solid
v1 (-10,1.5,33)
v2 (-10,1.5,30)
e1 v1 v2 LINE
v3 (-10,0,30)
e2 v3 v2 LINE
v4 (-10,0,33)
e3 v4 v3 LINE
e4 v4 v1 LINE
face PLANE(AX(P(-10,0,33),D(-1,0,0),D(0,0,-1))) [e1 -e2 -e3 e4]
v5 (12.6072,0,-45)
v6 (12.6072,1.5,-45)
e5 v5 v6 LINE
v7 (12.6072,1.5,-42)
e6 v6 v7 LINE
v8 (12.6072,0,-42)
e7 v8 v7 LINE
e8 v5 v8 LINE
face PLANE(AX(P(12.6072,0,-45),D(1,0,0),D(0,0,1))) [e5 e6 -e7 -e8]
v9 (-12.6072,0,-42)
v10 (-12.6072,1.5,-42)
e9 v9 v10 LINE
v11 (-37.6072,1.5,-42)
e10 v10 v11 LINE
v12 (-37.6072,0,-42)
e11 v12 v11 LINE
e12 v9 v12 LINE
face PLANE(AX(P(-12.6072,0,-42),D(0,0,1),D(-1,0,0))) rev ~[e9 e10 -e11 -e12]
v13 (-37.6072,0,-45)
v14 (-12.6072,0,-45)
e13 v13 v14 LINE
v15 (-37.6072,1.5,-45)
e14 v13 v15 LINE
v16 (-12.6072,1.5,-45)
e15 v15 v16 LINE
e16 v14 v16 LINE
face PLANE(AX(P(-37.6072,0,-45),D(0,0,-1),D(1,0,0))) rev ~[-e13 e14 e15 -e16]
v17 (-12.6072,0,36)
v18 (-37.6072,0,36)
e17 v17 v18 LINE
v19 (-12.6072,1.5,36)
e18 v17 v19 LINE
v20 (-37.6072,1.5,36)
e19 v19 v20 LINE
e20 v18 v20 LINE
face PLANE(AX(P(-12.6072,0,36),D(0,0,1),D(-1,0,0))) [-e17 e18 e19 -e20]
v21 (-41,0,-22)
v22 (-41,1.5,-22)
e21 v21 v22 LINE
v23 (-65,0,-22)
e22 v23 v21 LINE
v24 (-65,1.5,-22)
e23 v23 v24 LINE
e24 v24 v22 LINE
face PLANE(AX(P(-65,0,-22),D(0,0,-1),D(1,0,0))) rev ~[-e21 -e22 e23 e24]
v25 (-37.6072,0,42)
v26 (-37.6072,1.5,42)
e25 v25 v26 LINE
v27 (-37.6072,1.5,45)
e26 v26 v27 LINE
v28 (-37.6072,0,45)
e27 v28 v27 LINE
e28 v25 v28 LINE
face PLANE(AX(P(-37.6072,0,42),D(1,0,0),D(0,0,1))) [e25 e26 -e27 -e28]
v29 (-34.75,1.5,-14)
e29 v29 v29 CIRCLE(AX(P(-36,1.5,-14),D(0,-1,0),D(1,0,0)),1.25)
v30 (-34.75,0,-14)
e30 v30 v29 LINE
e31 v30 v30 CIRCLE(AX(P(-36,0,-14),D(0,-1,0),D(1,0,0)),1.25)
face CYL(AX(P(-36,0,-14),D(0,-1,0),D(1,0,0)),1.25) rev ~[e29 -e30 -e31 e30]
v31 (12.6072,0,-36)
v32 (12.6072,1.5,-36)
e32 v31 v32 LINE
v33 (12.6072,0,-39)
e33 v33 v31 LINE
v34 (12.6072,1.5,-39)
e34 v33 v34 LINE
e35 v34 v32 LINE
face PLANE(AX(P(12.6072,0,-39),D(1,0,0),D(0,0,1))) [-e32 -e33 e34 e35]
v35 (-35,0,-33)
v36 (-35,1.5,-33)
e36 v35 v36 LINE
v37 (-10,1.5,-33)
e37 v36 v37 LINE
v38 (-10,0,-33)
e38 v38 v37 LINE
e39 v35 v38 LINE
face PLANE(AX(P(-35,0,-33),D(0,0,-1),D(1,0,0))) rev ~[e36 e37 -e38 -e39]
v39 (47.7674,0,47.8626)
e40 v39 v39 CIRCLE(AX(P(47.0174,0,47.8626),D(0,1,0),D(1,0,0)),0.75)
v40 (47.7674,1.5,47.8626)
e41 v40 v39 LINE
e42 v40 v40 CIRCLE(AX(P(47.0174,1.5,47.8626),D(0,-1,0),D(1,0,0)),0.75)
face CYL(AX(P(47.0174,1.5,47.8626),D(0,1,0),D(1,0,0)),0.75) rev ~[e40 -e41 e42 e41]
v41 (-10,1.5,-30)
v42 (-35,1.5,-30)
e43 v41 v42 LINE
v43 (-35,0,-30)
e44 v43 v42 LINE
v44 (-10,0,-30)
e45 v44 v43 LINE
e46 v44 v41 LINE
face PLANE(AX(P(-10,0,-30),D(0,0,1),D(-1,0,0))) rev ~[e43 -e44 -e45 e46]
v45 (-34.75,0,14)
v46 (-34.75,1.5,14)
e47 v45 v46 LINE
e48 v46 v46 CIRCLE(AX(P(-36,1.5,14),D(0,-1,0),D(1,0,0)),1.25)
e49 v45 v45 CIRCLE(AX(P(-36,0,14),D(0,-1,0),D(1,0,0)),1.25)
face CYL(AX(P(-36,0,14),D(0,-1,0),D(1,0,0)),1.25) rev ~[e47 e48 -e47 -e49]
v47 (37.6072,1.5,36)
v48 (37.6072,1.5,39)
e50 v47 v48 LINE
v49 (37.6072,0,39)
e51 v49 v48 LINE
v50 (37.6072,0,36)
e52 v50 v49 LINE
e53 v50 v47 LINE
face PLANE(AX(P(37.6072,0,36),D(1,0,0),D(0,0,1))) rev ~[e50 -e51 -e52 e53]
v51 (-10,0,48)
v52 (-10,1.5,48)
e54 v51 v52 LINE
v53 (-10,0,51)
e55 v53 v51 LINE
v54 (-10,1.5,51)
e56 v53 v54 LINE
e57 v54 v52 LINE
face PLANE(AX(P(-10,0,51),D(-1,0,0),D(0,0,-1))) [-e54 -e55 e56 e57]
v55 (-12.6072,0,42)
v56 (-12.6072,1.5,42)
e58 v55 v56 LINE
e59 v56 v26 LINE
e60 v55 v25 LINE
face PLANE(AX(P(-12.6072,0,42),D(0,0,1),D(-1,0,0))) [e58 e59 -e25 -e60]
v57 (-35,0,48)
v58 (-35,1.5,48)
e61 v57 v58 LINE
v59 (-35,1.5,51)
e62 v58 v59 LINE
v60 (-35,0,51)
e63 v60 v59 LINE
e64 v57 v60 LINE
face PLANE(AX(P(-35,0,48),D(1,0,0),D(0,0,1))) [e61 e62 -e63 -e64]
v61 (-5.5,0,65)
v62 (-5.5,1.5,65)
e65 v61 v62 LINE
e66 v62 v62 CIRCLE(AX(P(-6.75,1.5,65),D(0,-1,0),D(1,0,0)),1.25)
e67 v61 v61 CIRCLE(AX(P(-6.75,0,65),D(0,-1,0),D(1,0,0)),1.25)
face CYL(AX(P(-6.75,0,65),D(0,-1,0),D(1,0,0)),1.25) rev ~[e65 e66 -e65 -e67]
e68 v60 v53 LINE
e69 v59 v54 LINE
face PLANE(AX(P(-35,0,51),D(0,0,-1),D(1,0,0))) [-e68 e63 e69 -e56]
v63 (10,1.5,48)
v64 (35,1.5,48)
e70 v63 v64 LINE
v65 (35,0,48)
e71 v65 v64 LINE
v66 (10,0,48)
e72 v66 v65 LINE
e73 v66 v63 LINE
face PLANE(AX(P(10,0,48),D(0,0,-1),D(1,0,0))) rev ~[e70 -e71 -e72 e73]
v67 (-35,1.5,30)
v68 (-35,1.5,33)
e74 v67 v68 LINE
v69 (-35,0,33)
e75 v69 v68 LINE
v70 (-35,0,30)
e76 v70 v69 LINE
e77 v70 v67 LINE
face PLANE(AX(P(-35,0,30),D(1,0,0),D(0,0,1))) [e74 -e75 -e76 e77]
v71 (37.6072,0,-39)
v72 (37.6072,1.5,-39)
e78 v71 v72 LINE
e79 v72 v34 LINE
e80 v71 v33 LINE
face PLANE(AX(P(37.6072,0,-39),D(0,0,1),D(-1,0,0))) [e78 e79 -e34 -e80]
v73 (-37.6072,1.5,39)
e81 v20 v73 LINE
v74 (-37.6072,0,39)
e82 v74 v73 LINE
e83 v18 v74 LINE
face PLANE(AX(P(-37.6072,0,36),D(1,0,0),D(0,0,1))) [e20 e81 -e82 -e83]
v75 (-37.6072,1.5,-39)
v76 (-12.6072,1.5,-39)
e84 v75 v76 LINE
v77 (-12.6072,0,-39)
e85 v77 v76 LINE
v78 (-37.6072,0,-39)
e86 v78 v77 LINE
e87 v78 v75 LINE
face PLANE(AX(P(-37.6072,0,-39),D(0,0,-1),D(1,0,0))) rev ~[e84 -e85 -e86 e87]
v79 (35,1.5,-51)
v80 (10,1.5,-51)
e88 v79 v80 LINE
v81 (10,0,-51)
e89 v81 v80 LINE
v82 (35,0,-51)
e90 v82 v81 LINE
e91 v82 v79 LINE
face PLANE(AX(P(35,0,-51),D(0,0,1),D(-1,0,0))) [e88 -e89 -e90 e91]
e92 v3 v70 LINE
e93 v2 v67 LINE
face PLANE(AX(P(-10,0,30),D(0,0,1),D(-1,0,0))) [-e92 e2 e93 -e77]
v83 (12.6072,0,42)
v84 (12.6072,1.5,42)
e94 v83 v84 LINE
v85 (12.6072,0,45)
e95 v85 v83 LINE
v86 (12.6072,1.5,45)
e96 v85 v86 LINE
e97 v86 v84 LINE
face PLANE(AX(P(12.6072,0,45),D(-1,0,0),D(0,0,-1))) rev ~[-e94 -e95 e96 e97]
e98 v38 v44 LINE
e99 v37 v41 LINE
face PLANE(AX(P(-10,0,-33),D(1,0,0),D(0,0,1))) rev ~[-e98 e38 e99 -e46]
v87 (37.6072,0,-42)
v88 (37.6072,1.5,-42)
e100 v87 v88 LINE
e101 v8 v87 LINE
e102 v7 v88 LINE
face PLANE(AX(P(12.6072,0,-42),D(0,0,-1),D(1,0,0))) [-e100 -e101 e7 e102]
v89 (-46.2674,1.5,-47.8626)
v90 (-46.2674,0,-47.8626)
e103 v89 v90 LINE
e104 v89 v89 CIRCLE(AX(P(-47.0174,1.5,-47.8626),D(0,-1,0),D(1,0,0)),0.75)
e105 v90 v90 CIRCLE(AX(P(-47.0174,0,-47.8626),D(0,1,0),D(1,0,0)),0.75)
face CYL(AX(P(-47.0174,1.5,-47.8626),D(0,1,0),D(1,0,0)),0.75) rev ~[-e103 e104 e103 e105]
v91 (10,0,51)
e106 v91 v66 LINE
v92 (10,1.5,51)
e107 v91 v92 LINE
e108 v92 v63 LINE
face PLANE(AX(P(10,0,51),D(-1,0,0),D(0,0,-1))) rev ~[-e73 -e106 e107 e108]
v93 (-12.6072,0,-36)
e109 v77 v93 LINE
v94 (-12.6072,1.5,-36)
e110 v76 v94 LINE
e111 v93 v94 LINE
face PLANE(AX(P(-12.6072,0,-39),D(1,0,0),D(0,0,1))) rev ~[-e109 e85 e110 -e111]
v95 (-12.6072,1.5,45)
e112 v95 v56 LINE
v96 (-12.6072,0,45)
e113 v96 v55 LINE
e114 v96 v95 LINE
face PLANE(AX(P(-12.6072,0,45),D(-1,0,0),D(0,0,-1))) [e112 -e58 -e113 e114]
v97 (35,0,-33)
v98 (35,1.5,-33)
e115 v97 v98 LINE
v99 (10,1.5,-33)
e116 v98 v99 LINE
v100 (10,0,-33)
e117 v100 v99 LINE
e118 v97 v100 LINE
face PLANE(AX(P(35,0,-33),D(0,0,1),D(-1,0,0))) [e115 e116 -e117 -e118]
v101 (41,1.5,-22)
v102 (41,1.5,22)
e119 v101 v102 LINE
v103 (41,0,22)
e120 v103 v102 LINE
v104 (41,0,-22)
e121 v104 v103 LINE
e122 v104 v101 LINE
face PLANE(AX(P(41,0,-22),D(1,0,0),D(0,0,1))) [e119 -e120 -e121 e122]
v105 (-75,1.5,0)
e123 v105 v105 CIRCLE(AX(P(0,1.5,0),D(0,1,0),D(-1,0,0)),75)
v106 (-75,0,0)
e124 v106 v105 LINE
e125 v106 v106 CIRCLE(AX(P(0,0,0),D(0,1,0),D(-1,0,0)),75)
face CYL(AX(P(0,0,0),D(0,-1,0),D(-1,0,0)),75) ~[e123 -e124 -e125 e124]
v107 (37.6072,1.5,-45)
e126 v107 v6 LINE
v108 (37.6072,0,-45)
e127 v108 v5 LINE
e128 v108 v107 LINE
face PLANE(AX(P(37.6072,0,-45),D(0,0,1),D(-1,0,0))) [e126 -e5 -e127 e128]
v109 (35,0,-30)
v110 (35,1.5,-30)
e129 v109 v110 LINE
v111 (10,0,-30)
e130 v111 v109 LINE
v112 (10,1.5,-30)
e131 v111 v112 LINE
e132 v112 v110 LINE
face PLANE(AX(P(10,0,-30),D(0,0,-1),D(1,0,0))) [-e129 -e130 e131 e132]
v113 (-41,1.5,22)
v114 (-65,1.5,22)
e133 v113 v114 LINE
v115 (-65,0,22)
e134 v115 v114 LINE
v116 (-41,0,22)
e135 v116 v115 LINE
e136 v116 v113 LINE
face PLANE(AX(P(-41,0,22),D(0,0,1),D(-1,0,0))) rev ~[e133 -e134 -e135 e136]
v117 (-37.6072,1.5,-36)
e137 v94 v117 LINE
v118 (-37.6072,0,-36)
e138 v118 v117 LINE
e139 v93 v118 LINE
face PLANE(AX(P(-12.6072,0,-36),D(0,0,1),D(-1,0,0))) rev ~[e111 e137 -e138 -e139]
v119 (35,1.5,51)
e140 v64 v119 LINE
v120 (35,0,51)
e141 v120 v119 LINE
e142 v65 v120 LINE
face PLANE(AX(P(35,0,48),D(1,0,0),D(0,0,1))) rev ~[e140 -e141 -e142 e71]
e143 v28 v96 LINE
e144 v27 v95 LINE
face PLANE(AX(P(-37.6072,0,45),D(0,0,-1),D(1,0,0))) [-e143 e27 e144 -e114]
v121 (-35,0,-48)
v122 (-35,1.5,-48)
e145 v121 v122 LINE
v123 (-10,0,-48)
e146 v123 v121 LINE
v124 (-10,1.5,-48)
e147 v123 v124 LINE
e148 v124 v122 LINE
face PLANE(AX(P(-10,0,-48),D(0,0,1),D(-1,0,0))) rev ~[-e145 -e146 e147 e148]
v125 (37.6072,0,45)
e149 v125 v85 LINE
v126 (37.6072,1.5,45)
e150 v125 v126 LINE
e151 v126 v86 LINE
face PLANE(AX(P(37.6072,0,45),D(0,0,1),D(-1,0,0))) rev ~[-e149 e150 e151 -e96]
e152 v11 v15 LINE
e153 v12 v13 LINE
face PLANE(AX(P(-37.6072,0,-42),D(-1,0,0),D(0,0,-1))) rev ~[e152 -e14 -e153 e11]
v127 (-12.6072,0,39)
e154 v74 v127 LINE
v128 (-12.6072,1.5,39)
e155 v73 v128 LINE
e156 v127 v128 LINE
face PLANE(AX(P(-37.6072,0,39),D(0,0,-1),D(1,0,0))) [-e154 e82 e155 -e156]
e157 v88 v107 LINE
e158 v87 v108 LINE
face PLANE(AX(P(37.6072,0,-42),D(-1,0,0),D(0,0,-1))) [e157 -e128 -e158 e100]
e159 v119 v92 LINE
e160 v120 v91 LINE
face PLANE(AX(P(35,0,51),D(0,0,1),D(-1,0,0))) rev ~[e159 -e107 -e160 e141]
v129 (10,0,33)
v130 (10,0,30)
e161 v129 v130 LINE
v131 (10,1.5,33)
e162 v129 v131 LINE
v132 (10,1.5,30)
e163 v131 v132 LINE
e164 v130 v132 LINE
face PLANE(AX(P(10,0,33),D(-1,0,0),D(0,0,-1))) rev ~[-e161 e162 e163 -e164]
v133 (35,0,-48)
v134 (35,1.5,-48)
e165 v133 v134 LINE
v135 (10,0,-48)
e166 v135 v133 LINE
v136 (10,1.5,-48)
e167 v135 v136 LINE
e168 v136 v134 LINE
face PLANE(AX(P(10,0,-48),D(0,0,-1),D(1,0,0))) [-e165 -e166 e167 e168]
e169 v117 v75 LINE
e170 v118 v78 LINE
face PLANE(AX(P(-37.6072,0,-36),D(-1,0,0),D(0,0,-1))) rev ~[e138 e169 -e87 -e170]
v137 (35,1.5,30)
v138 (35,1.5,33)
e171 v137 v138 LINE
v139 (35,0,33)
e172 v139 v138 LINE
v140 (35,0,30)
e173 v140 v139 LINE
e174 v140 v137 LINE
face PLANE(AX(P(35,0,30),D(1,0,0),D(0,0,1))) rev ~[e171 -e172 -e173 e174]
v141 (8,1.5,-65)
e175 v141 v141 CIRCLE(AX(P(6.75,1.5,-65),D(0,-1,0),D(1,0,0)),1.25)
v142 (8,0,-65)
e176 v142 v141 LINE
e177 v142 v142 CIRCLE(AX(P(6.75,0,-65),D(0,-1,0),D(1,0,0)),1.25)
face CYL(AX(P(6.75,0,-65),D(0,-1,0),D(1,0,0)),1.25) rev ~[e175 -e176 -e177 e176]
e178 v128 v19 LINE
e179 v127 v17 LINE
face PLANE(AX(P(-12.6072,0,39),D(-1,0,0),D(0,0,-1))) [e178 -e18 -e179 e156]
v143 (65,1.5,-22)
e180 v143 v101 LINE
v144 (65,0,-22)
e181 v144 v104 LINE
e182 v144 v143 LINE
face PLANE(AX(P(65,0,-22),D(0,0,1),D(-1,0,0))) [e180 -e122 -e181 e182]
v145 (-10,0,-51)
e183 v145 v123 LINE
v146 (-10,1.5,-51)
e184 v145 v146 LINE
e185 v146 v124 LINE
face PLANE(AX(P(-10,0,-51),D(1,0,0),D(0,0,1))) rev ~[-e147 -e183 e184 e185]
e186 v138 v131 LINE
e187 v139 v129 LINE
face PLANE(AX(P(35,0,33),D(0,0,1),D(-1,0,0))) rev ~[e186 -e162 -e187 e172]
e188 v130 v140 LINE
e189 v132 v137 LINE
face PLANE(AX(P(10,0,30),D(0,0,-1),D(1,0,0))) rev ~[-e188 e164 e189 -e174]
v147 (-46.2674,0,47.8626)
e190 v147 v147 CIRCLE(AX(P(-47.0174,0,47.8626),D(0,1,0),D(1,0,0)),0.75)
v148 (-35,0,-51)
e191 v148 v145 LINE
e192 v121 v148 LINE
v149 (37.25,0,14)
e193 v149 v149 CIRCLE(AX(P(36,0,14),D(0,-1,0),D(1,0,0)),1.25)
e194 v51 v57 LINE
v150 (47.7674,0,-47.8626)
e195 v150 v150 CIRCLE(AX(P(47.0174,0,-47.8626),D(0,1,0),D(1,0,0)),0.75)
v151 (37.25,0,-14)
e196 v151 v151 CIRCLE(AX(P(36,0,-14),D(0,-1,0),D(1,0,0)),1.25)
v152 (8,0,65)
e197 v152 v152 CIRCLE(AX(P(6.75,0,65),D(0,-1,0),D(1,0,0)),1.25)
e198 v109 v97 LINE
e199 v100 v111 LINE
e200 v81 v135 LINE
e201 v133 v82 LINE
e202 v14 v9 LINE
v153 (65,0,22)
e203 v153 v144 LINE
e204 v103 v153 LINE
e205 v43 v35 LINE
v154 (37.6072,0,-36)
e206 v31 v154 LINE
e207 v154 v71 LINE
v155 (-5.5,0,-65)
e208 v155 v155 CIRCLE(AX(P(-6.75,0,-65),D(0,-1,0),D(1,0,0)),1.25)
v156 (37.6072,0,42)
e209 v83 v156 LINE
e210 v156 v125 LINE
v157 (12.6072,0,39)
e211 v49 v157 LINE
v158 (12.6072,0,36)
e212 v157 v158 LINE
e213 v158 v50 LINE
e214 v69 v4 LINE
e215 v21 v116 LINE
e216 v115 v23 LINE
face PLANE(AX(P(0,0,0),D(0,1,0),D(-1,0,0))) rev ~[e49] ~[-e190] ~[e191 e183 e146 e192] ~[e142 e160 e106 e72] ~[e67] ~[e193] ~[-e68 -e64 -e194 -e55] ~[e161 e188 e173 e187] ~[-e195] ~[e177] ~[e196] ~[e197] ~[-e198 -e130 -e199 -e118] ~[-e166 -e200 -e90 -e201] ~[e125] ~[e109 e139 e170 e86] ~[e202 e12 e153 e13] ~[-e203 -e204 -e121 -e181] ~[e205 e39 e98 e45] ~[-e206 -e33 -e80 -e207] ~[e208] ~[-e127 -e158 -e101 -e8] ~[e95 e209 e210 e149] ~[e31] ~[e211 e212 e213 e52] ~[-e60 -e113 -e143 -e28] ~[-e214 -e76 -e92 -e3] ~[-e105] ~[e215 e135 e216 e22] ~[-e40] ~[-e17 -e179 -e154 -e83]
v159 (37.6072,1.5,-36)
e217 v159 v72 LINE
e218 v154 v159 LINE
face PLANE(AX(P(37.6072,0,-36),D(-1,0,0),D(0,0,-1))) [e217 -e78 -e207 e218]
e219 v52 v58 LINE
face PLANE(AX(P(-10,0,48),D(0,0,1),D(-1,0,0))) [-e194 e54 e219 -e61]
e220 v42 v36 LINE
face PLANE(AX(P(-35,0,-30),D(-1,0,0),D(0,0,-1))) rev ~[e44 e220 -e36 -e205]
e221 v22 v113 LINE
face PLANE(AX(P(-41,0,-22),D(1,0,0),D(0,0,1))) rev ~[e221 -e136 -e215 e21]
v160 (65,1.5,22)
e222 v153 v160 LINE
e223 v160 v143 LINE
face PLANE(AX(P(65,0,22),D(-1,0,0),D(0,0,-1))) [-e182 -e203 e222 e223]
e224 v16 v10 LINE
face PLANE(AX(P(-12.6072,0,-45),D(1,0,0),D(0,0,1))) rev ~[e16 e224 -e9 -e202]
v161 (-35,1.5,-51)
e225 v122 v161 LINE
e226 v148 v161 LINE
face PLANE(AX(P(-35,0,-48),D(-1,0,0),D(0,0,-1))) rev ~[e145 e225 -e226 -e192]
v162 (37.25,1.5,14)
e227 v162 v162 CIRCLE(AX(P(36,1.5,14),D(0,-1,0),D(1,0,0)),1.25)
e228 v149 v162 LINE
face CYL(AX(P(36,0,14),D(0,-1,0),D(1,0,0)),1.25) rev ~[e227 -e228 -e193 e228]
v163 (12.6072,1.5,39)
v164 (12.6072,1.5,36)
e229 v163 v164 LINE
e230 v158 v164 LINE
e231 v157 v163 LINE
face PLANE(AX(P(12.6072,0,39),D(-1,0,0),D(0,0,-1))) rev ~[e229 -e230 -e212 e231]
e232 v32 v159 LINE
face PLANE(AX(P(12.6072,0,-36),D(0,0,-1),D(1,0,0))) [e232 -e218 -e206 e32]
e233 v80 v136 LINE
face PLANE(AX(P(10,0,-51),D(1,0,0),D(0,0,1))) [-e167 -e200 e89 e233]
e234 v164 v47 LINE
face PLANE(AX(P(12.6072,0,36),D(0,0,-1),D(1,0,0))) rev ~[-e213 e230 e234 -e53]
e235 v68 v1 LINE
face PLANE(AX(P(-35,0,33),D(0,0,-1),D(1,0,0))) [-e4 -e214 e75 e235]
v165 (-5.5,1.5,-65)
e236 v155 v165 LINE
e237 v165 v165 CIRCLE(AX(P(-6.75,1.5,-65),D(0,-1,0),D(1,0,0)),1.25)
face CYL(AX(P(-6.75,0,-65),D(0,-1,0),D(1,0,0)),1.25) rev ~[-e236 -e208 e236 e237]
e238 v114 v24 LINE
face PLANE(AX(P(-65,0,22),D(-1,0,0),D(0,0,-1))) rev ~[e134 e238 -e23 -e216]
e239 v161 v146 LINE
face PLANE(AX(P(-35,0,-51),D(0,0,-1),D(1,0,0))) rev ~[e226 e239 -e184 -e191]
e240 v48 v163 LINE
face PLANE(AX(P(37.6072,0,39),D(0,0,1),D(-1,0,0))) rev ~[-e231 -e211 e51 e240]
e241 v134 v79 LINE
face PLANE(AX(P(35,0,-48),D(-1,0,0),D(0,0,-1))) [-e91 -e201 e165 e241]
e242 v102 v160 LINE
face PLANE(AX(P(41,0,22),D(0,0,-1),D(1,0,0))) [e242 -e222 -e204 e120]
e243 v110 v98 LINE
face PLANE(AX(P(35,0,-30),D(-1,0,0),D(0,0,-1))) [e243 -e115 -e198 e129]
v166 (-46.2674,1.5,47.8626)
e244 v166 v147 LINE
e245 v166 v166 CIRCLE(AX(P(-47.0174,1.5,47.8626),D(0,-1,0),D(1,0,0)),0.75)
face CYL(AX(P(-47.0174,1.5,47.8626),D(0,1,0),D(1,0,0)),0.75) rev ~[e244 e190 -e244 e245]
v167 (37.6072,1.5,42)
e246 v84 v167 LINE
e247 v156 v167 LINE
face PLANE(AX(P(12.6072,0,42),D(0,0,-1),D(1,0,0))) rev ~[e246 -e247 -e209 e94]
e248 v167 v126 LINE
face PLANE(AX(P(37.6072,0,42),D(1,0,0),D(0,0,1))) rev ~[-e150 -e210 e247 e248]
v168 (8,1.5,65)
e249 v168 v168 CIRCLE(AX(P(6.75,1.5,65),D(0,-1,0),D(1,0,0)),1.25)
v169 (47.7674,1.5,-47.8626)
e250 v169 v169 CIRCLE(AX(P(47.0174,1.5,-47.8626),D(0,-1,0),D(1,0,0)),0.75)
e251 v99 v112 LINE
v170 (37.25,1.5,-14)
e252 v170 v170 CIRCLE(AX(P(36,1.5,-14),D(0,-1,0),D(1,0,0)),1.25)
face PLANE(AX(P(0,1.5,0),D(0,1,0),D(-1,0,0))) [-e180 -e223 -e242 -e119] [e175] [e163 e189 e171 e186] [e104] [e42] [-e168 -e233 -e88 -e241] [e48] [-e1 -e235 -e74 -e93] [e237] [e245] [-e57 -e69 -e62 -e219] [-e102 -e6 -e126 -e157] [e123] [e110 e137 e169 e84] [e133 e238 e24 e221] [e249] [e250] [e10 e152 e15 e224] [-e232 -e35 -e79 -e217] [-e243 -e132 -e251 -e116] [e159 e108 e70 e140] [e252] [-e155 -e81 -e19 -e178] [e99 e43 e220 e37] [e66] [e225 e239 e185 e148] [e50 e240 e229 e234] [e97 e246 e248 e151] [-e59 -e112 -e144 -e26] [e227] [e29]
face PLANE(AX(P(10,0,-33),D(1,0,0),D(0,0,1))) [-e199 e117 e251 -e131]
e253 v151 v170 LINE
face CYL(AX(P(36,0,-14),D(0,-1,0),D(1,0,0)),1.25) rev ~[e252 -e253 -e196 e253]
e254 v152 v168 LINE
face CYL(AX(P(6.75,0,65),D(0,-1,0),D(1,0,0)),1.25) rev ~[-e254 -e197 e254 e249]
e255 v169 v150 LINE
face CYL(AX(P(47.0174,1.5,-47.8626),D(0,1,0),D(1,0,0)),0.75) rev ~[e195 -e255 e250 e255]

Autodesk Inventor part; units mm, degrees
ref_plane "YZ Plane" through (0, 0, 0) normal (1, 0, 0) x (0, 1, 0)
ref_plane "XZ Plane" through (0, 0, 0) normal (0, 1, 0) x (-1, 0, 0)
ref_plane "XY Plane" through (0, 0, 0) normal (0, 0, 1) x (1, 0, 0)
sketch "Boceto1" plane through (0, 0, 0) normal (0, 1, 0) x (-1, 0, 0)
  circle A0 centre (0, 0) radius 75
  line L0 (65, -22) -> (41, -22)
  line L1 (41, -22) -> (41, 22)
  line L2 (41, 22) -> (65, 22)
  line L3 (65, 22) -> (65, -22)
  line L4 (37.6072, -39) -> (12.6072, -39)
  line L5 (12.6072, -39) -> (12.6072, -36)
  line L6 (12.6072, -36) -> (37.6072, -36)
  line L7 (37.6072, -36) -> (37.6072, -39)
  line L8 (37.6072, -45) -> (12.6072, -45)
  line L9 (12.6072, -45) -> (12.6072, -42)
  line L10 (12.6072, -42) -> (37.6072, -42)
  line L11 (37.6072, -42) -> (37.6072, -45)
  line L12 (35, -51) -> (10, -51)
  line L13 (10, -51) -> (10, -48)
  line L14 (10, -48) -> (35, -48)
  line L15 (35, -48) -> (35, -51)
  line L16 (35, -33) -> (10, -33)
  line L17 (10, -33) -> (10, -30)
  line L18 (10, -30) -> (35, -30)
  line L19 (35, -30) -> (35, -33)
  line L20 (-37.6072, -39) -> (-12.6072, -39)
  line L21 (-12.6072, -39) -> (-12.6072, -36)
  line L22 (-12.6072, -36) -> (-37.6072, -36)
  line L23 (-37.6072, -36) -> (-37.6072, -39)
  line L24 (-37.6072, -45) -> (-12.6072, -45)
  line L25 (-37.6072, -42) -> (-37.6072, -45)
  line L26 (-12.6072, -42) -> (-37.6072, -42)
  line L27 (-12.6072, -45) -> (-12.6072, -42)
  line L28 (-35, -51) -> (-10, -51)
  line L29 (-35, -48) -> (-35, -51)
  line L30 (-10, -48) -> (-35, -48)
  line L31 (-10, -51) -> (-10, -48)
  line L32 (-35, -33) -> (-10, -33)
  line L33 (-35, -30) -> (-35, -33)
  line L34 (-10, -30) -> (-35, -30)
  line L35 (-10, -33) -> (-10, -30)
  line L36 (-65, -22) -> (-41, -22)
  line L37 (-41, -22) -> (-41, 22)
  line L38 (-41, 22) -> (-65, 22)
  line L39 (-65, 22) -> (-65, -22)
  line L40 (37.6072, 39) -> (12.6072, 39)
  line L41 (12.6072, 39) -> (12.6072, 36)
  line L42 (12.6072, 36) -> (37.6072, 36)
  line L43 (37.6072, 36) -> (37.6072, 39)
  line L44 (37.6072, 45) -> (12.6072, 45)
  line L45 (37.6072, 42) -> (37.6072, 45)
  line L46 (12.6072, 42) -> (37.6072, 42)
  line L47 (12.6072, 45) -> (12.6072, 42)
  line L48 (35, 51) -> (10, 51)
  line L49 (35, 48) -> (35, 51)
  line L50 (10, 48) -> (35, 48)
  line L51 (10, 51) -> (10, 48)
  line L52 (35, 33) -> (10, 33)
  line L53 (35, 30) -> (35, 33)
  line L54 (10, 30) -> (35, 30)
  line L55 (10, 33) -> (10, 30)
  line L56 (-35, 30) -> (-35, 33)
  line L57 (-10, 33) -> (-10, 30)
  line L58 (-10, 30) -> (-35, 30)
  line L59 (-35, 33) -> (-10, 33)
  line L60 (-12.6072, 39) -> (-12.6072, 36)
  line L61 (-12.6072, 36) -> (-37.6072, 36)
  line L62 (-37.6072, 36) -> (-37.6072, 39)
  line L63 (-37.6072, 39) -> (-12.6072, 39)
  line L64 (-12.6072, 45) -> (-12.6072, 42)
  line L65 (-12.6072, 42) -> (-37.6072, 42)
  line L66 (-37.6072, 45) -> (-12.6072, 45)
  line L67 (-10, 48) -> (-35, 48)
  line L68 (-35, 51) -> (-10, 51)
  line L69 (-10, 51) -> (-10, 48)
  line L70 (-37.6072, 42) -> (-37.6072, 45)
  line L71 (-35, 48) -> (-35, 51)
  point P0 (0, 25.3749)
  dimension "d0" = 150
  dimension "d1" = 24
  dimension "d2" = 44
  dimension "d3" = 10
  dimension "d4" = 25
  dimension "d5" = 3
  dimension "d6" = 25
  dimension "d7" = 3
  dimension "d8" = 25
  dimension "d9" = 3
  dimension "d10" = 25
  dimension "d11" = 3
  dimension "d12" = 3
  dimension "d13" = 3
  dimension "d14" = 3
  dimension "d15" = 0
extrude "Extrusión1" add sketch "Boceto1" along normal blind 1.5
sketch "Boceto2" plane through (0, 1.5, 0) normal (0, 1, 0) x (1, 0, 0)
  line L0 (0, 0) -> (0, -9.9603)
  line L1 (0, 0) -> (61.7788, -62.8893)
  circle A0 centre (47.0174, -47.8626) radius 0.75
  arc A1 (50.5529, -44.327) -> (43.5135, -51.4295) centre (47.0174, -47.8626) ccw
  line L2 (-72.438, 0) -> (-75, 0)
  circle A2 centre (0, 0) radius 72.438
  line L3 (44.0781, -44.8705) -> (47.0174, -47.8626)
  line L4 (43.4505, -51.3665) -> (48.0344, -55.9504)
  line L5 (43.4505, -51.3665) -> (49.9332, -51.3665) construction
  line L6 (47.0174, -47.8626) -> (52.0174, -47.8626) construction
  line L7 (50.5529, -44.327) -> (55.1054, -48.8795)
  line L8 (55.1054, -48.8795) -> (48.0344, -55.9504)
  circle A3 centre (-47.0174, -47.8626) radius 0.75
  arc A4 (-43.5135, -51.4295) -> (-50.5529, -44.327) centre (-47.0174, -47.8626) ccw
  line L9 (-44.0781, -44.8705) -> (-47.0174, -47.8626)
  line L10 (-43.4505, -51.3665) -> (-48.0344, -55.9504)
  line L11 (-43.4505, -51.3665) -> (-49.9332, -51.3665) construction
  line L12 (-47.0174, -47.8626) -> (-52.0174, -47.8626) construction
  line L13 (-50.5529, -44.327) -> (-55.1054, -48.8795)
  line L14 (-55.1054, -48.8795) -> (-48.0344, -55.9504)
  line L15 (0, 0) -> (7.916, 0)
  line L16 (-44.0781, 44.8705) -> (-47.0174, 47.8626)
  circle A5 centre (-47.0174, 47.8626) radius 0.75
  line L17 (-43.4505, 51.3665) -> (-49.9332, 51.3665) construction
  arc A6 (-50.5529, 44.327) -> (-43.5135, 51.4295) centre (-47.0174, 47.8626) ccw
  line L18 (-43.4505, 51.3665) -> (-48.0344, 55.9504)
  line L19 (-47.0174, 47.8626) -> (-52.0174, 47.8626) construction
  line L20 (-50.5529, 44.327) -> (-55.1054, 48.8795)
  line L21 (-55.1054, 48.8795) -> (-48.0344, 55.9504)
  line L22 (0, 0) -> (61.7788, 62.8893)
  circle A7 centre (0, 0) radius 72.438
  circle A8 centre (47.0174, 47.8626) radius 0.75
  arc A9 (43.5135, 51.4295) -> (50.5529, 44.327) centre (47.0174, 47.8626) ccw
  line L23 (44.0781, 44.8705) -> (47.0174, 47.8626)
  line L24 (43.4505, 51.3665) -> (48.0344, 55.9504)
  line L25 (47.0174, 47.8626) -> (52.0174, 47.8626) construction
  line L26 (55.1054, 48.8795) -> (48.0344, 55.9504)
  line L27 (50.5529, 44.327) -> (55.1054, 48.8795)
  line L28 (43.4505, 51.3665) -> (49.9332, 51.3665) construction
  dimension "d26" = 1.5
  dimension "d27" = 45
  dimension "d28" = 44.49
  dimension "d29" = 45.51
extrude "Extrusión2" cut sketch "Boceto2" against normal blind 10 contours A0 L1 | L1 A0 | A8 L22 | L22 A8 | A3 | A5
sketch "Boceto3" plane through (0, 0, 0) normal (0, -1, 0) x (1, 0, 0)
  line L0 (0, 0) -> (0, 96.9999)
  line L1 (0, 0) -> (57.8177, 0)
  circle A0 centre (6.75, 65) radius 1.25
  circle A1 centre (-6.75, 65) radius 1.25
  circle A2 centre (6.75, -65) radius 1.25
  circle A3 centre (-6.75, -65) radius 1.25
  dimension "d32" = 2.5
  dimension "d33" = 6.75
  dimension "d34" = 65
extrude "Extrusión3" cut sketch "Boceto3" against normal blind 10
sketch "Boceto4" plane through (0, 0, 0) normal (0, -1, 0) x (1, 0, 0)
  circle A0 centre (-36, 14) radius 1.25
  line L0 (0, 0) -> (0, 13.2611)
  line L1 (0, 0) -> (12.4525, 0)
  circle A1 centre (36, 14) radius 1.25
  circle A2 centre (-36, -14) radius 1.25
  circle A3 centre (36, -14) radius 1.25
  line L2 (-41, 22) -> (-41, -22) projected
  point P0 (0, -13.2611)
  dimension "d37" = 2.5
  dimension "d38" = 14
  dimension "d39" = 5
extrude "Extrusión4" cut sketch "Boceto4" against normal blind 10
properties part number "Base"
